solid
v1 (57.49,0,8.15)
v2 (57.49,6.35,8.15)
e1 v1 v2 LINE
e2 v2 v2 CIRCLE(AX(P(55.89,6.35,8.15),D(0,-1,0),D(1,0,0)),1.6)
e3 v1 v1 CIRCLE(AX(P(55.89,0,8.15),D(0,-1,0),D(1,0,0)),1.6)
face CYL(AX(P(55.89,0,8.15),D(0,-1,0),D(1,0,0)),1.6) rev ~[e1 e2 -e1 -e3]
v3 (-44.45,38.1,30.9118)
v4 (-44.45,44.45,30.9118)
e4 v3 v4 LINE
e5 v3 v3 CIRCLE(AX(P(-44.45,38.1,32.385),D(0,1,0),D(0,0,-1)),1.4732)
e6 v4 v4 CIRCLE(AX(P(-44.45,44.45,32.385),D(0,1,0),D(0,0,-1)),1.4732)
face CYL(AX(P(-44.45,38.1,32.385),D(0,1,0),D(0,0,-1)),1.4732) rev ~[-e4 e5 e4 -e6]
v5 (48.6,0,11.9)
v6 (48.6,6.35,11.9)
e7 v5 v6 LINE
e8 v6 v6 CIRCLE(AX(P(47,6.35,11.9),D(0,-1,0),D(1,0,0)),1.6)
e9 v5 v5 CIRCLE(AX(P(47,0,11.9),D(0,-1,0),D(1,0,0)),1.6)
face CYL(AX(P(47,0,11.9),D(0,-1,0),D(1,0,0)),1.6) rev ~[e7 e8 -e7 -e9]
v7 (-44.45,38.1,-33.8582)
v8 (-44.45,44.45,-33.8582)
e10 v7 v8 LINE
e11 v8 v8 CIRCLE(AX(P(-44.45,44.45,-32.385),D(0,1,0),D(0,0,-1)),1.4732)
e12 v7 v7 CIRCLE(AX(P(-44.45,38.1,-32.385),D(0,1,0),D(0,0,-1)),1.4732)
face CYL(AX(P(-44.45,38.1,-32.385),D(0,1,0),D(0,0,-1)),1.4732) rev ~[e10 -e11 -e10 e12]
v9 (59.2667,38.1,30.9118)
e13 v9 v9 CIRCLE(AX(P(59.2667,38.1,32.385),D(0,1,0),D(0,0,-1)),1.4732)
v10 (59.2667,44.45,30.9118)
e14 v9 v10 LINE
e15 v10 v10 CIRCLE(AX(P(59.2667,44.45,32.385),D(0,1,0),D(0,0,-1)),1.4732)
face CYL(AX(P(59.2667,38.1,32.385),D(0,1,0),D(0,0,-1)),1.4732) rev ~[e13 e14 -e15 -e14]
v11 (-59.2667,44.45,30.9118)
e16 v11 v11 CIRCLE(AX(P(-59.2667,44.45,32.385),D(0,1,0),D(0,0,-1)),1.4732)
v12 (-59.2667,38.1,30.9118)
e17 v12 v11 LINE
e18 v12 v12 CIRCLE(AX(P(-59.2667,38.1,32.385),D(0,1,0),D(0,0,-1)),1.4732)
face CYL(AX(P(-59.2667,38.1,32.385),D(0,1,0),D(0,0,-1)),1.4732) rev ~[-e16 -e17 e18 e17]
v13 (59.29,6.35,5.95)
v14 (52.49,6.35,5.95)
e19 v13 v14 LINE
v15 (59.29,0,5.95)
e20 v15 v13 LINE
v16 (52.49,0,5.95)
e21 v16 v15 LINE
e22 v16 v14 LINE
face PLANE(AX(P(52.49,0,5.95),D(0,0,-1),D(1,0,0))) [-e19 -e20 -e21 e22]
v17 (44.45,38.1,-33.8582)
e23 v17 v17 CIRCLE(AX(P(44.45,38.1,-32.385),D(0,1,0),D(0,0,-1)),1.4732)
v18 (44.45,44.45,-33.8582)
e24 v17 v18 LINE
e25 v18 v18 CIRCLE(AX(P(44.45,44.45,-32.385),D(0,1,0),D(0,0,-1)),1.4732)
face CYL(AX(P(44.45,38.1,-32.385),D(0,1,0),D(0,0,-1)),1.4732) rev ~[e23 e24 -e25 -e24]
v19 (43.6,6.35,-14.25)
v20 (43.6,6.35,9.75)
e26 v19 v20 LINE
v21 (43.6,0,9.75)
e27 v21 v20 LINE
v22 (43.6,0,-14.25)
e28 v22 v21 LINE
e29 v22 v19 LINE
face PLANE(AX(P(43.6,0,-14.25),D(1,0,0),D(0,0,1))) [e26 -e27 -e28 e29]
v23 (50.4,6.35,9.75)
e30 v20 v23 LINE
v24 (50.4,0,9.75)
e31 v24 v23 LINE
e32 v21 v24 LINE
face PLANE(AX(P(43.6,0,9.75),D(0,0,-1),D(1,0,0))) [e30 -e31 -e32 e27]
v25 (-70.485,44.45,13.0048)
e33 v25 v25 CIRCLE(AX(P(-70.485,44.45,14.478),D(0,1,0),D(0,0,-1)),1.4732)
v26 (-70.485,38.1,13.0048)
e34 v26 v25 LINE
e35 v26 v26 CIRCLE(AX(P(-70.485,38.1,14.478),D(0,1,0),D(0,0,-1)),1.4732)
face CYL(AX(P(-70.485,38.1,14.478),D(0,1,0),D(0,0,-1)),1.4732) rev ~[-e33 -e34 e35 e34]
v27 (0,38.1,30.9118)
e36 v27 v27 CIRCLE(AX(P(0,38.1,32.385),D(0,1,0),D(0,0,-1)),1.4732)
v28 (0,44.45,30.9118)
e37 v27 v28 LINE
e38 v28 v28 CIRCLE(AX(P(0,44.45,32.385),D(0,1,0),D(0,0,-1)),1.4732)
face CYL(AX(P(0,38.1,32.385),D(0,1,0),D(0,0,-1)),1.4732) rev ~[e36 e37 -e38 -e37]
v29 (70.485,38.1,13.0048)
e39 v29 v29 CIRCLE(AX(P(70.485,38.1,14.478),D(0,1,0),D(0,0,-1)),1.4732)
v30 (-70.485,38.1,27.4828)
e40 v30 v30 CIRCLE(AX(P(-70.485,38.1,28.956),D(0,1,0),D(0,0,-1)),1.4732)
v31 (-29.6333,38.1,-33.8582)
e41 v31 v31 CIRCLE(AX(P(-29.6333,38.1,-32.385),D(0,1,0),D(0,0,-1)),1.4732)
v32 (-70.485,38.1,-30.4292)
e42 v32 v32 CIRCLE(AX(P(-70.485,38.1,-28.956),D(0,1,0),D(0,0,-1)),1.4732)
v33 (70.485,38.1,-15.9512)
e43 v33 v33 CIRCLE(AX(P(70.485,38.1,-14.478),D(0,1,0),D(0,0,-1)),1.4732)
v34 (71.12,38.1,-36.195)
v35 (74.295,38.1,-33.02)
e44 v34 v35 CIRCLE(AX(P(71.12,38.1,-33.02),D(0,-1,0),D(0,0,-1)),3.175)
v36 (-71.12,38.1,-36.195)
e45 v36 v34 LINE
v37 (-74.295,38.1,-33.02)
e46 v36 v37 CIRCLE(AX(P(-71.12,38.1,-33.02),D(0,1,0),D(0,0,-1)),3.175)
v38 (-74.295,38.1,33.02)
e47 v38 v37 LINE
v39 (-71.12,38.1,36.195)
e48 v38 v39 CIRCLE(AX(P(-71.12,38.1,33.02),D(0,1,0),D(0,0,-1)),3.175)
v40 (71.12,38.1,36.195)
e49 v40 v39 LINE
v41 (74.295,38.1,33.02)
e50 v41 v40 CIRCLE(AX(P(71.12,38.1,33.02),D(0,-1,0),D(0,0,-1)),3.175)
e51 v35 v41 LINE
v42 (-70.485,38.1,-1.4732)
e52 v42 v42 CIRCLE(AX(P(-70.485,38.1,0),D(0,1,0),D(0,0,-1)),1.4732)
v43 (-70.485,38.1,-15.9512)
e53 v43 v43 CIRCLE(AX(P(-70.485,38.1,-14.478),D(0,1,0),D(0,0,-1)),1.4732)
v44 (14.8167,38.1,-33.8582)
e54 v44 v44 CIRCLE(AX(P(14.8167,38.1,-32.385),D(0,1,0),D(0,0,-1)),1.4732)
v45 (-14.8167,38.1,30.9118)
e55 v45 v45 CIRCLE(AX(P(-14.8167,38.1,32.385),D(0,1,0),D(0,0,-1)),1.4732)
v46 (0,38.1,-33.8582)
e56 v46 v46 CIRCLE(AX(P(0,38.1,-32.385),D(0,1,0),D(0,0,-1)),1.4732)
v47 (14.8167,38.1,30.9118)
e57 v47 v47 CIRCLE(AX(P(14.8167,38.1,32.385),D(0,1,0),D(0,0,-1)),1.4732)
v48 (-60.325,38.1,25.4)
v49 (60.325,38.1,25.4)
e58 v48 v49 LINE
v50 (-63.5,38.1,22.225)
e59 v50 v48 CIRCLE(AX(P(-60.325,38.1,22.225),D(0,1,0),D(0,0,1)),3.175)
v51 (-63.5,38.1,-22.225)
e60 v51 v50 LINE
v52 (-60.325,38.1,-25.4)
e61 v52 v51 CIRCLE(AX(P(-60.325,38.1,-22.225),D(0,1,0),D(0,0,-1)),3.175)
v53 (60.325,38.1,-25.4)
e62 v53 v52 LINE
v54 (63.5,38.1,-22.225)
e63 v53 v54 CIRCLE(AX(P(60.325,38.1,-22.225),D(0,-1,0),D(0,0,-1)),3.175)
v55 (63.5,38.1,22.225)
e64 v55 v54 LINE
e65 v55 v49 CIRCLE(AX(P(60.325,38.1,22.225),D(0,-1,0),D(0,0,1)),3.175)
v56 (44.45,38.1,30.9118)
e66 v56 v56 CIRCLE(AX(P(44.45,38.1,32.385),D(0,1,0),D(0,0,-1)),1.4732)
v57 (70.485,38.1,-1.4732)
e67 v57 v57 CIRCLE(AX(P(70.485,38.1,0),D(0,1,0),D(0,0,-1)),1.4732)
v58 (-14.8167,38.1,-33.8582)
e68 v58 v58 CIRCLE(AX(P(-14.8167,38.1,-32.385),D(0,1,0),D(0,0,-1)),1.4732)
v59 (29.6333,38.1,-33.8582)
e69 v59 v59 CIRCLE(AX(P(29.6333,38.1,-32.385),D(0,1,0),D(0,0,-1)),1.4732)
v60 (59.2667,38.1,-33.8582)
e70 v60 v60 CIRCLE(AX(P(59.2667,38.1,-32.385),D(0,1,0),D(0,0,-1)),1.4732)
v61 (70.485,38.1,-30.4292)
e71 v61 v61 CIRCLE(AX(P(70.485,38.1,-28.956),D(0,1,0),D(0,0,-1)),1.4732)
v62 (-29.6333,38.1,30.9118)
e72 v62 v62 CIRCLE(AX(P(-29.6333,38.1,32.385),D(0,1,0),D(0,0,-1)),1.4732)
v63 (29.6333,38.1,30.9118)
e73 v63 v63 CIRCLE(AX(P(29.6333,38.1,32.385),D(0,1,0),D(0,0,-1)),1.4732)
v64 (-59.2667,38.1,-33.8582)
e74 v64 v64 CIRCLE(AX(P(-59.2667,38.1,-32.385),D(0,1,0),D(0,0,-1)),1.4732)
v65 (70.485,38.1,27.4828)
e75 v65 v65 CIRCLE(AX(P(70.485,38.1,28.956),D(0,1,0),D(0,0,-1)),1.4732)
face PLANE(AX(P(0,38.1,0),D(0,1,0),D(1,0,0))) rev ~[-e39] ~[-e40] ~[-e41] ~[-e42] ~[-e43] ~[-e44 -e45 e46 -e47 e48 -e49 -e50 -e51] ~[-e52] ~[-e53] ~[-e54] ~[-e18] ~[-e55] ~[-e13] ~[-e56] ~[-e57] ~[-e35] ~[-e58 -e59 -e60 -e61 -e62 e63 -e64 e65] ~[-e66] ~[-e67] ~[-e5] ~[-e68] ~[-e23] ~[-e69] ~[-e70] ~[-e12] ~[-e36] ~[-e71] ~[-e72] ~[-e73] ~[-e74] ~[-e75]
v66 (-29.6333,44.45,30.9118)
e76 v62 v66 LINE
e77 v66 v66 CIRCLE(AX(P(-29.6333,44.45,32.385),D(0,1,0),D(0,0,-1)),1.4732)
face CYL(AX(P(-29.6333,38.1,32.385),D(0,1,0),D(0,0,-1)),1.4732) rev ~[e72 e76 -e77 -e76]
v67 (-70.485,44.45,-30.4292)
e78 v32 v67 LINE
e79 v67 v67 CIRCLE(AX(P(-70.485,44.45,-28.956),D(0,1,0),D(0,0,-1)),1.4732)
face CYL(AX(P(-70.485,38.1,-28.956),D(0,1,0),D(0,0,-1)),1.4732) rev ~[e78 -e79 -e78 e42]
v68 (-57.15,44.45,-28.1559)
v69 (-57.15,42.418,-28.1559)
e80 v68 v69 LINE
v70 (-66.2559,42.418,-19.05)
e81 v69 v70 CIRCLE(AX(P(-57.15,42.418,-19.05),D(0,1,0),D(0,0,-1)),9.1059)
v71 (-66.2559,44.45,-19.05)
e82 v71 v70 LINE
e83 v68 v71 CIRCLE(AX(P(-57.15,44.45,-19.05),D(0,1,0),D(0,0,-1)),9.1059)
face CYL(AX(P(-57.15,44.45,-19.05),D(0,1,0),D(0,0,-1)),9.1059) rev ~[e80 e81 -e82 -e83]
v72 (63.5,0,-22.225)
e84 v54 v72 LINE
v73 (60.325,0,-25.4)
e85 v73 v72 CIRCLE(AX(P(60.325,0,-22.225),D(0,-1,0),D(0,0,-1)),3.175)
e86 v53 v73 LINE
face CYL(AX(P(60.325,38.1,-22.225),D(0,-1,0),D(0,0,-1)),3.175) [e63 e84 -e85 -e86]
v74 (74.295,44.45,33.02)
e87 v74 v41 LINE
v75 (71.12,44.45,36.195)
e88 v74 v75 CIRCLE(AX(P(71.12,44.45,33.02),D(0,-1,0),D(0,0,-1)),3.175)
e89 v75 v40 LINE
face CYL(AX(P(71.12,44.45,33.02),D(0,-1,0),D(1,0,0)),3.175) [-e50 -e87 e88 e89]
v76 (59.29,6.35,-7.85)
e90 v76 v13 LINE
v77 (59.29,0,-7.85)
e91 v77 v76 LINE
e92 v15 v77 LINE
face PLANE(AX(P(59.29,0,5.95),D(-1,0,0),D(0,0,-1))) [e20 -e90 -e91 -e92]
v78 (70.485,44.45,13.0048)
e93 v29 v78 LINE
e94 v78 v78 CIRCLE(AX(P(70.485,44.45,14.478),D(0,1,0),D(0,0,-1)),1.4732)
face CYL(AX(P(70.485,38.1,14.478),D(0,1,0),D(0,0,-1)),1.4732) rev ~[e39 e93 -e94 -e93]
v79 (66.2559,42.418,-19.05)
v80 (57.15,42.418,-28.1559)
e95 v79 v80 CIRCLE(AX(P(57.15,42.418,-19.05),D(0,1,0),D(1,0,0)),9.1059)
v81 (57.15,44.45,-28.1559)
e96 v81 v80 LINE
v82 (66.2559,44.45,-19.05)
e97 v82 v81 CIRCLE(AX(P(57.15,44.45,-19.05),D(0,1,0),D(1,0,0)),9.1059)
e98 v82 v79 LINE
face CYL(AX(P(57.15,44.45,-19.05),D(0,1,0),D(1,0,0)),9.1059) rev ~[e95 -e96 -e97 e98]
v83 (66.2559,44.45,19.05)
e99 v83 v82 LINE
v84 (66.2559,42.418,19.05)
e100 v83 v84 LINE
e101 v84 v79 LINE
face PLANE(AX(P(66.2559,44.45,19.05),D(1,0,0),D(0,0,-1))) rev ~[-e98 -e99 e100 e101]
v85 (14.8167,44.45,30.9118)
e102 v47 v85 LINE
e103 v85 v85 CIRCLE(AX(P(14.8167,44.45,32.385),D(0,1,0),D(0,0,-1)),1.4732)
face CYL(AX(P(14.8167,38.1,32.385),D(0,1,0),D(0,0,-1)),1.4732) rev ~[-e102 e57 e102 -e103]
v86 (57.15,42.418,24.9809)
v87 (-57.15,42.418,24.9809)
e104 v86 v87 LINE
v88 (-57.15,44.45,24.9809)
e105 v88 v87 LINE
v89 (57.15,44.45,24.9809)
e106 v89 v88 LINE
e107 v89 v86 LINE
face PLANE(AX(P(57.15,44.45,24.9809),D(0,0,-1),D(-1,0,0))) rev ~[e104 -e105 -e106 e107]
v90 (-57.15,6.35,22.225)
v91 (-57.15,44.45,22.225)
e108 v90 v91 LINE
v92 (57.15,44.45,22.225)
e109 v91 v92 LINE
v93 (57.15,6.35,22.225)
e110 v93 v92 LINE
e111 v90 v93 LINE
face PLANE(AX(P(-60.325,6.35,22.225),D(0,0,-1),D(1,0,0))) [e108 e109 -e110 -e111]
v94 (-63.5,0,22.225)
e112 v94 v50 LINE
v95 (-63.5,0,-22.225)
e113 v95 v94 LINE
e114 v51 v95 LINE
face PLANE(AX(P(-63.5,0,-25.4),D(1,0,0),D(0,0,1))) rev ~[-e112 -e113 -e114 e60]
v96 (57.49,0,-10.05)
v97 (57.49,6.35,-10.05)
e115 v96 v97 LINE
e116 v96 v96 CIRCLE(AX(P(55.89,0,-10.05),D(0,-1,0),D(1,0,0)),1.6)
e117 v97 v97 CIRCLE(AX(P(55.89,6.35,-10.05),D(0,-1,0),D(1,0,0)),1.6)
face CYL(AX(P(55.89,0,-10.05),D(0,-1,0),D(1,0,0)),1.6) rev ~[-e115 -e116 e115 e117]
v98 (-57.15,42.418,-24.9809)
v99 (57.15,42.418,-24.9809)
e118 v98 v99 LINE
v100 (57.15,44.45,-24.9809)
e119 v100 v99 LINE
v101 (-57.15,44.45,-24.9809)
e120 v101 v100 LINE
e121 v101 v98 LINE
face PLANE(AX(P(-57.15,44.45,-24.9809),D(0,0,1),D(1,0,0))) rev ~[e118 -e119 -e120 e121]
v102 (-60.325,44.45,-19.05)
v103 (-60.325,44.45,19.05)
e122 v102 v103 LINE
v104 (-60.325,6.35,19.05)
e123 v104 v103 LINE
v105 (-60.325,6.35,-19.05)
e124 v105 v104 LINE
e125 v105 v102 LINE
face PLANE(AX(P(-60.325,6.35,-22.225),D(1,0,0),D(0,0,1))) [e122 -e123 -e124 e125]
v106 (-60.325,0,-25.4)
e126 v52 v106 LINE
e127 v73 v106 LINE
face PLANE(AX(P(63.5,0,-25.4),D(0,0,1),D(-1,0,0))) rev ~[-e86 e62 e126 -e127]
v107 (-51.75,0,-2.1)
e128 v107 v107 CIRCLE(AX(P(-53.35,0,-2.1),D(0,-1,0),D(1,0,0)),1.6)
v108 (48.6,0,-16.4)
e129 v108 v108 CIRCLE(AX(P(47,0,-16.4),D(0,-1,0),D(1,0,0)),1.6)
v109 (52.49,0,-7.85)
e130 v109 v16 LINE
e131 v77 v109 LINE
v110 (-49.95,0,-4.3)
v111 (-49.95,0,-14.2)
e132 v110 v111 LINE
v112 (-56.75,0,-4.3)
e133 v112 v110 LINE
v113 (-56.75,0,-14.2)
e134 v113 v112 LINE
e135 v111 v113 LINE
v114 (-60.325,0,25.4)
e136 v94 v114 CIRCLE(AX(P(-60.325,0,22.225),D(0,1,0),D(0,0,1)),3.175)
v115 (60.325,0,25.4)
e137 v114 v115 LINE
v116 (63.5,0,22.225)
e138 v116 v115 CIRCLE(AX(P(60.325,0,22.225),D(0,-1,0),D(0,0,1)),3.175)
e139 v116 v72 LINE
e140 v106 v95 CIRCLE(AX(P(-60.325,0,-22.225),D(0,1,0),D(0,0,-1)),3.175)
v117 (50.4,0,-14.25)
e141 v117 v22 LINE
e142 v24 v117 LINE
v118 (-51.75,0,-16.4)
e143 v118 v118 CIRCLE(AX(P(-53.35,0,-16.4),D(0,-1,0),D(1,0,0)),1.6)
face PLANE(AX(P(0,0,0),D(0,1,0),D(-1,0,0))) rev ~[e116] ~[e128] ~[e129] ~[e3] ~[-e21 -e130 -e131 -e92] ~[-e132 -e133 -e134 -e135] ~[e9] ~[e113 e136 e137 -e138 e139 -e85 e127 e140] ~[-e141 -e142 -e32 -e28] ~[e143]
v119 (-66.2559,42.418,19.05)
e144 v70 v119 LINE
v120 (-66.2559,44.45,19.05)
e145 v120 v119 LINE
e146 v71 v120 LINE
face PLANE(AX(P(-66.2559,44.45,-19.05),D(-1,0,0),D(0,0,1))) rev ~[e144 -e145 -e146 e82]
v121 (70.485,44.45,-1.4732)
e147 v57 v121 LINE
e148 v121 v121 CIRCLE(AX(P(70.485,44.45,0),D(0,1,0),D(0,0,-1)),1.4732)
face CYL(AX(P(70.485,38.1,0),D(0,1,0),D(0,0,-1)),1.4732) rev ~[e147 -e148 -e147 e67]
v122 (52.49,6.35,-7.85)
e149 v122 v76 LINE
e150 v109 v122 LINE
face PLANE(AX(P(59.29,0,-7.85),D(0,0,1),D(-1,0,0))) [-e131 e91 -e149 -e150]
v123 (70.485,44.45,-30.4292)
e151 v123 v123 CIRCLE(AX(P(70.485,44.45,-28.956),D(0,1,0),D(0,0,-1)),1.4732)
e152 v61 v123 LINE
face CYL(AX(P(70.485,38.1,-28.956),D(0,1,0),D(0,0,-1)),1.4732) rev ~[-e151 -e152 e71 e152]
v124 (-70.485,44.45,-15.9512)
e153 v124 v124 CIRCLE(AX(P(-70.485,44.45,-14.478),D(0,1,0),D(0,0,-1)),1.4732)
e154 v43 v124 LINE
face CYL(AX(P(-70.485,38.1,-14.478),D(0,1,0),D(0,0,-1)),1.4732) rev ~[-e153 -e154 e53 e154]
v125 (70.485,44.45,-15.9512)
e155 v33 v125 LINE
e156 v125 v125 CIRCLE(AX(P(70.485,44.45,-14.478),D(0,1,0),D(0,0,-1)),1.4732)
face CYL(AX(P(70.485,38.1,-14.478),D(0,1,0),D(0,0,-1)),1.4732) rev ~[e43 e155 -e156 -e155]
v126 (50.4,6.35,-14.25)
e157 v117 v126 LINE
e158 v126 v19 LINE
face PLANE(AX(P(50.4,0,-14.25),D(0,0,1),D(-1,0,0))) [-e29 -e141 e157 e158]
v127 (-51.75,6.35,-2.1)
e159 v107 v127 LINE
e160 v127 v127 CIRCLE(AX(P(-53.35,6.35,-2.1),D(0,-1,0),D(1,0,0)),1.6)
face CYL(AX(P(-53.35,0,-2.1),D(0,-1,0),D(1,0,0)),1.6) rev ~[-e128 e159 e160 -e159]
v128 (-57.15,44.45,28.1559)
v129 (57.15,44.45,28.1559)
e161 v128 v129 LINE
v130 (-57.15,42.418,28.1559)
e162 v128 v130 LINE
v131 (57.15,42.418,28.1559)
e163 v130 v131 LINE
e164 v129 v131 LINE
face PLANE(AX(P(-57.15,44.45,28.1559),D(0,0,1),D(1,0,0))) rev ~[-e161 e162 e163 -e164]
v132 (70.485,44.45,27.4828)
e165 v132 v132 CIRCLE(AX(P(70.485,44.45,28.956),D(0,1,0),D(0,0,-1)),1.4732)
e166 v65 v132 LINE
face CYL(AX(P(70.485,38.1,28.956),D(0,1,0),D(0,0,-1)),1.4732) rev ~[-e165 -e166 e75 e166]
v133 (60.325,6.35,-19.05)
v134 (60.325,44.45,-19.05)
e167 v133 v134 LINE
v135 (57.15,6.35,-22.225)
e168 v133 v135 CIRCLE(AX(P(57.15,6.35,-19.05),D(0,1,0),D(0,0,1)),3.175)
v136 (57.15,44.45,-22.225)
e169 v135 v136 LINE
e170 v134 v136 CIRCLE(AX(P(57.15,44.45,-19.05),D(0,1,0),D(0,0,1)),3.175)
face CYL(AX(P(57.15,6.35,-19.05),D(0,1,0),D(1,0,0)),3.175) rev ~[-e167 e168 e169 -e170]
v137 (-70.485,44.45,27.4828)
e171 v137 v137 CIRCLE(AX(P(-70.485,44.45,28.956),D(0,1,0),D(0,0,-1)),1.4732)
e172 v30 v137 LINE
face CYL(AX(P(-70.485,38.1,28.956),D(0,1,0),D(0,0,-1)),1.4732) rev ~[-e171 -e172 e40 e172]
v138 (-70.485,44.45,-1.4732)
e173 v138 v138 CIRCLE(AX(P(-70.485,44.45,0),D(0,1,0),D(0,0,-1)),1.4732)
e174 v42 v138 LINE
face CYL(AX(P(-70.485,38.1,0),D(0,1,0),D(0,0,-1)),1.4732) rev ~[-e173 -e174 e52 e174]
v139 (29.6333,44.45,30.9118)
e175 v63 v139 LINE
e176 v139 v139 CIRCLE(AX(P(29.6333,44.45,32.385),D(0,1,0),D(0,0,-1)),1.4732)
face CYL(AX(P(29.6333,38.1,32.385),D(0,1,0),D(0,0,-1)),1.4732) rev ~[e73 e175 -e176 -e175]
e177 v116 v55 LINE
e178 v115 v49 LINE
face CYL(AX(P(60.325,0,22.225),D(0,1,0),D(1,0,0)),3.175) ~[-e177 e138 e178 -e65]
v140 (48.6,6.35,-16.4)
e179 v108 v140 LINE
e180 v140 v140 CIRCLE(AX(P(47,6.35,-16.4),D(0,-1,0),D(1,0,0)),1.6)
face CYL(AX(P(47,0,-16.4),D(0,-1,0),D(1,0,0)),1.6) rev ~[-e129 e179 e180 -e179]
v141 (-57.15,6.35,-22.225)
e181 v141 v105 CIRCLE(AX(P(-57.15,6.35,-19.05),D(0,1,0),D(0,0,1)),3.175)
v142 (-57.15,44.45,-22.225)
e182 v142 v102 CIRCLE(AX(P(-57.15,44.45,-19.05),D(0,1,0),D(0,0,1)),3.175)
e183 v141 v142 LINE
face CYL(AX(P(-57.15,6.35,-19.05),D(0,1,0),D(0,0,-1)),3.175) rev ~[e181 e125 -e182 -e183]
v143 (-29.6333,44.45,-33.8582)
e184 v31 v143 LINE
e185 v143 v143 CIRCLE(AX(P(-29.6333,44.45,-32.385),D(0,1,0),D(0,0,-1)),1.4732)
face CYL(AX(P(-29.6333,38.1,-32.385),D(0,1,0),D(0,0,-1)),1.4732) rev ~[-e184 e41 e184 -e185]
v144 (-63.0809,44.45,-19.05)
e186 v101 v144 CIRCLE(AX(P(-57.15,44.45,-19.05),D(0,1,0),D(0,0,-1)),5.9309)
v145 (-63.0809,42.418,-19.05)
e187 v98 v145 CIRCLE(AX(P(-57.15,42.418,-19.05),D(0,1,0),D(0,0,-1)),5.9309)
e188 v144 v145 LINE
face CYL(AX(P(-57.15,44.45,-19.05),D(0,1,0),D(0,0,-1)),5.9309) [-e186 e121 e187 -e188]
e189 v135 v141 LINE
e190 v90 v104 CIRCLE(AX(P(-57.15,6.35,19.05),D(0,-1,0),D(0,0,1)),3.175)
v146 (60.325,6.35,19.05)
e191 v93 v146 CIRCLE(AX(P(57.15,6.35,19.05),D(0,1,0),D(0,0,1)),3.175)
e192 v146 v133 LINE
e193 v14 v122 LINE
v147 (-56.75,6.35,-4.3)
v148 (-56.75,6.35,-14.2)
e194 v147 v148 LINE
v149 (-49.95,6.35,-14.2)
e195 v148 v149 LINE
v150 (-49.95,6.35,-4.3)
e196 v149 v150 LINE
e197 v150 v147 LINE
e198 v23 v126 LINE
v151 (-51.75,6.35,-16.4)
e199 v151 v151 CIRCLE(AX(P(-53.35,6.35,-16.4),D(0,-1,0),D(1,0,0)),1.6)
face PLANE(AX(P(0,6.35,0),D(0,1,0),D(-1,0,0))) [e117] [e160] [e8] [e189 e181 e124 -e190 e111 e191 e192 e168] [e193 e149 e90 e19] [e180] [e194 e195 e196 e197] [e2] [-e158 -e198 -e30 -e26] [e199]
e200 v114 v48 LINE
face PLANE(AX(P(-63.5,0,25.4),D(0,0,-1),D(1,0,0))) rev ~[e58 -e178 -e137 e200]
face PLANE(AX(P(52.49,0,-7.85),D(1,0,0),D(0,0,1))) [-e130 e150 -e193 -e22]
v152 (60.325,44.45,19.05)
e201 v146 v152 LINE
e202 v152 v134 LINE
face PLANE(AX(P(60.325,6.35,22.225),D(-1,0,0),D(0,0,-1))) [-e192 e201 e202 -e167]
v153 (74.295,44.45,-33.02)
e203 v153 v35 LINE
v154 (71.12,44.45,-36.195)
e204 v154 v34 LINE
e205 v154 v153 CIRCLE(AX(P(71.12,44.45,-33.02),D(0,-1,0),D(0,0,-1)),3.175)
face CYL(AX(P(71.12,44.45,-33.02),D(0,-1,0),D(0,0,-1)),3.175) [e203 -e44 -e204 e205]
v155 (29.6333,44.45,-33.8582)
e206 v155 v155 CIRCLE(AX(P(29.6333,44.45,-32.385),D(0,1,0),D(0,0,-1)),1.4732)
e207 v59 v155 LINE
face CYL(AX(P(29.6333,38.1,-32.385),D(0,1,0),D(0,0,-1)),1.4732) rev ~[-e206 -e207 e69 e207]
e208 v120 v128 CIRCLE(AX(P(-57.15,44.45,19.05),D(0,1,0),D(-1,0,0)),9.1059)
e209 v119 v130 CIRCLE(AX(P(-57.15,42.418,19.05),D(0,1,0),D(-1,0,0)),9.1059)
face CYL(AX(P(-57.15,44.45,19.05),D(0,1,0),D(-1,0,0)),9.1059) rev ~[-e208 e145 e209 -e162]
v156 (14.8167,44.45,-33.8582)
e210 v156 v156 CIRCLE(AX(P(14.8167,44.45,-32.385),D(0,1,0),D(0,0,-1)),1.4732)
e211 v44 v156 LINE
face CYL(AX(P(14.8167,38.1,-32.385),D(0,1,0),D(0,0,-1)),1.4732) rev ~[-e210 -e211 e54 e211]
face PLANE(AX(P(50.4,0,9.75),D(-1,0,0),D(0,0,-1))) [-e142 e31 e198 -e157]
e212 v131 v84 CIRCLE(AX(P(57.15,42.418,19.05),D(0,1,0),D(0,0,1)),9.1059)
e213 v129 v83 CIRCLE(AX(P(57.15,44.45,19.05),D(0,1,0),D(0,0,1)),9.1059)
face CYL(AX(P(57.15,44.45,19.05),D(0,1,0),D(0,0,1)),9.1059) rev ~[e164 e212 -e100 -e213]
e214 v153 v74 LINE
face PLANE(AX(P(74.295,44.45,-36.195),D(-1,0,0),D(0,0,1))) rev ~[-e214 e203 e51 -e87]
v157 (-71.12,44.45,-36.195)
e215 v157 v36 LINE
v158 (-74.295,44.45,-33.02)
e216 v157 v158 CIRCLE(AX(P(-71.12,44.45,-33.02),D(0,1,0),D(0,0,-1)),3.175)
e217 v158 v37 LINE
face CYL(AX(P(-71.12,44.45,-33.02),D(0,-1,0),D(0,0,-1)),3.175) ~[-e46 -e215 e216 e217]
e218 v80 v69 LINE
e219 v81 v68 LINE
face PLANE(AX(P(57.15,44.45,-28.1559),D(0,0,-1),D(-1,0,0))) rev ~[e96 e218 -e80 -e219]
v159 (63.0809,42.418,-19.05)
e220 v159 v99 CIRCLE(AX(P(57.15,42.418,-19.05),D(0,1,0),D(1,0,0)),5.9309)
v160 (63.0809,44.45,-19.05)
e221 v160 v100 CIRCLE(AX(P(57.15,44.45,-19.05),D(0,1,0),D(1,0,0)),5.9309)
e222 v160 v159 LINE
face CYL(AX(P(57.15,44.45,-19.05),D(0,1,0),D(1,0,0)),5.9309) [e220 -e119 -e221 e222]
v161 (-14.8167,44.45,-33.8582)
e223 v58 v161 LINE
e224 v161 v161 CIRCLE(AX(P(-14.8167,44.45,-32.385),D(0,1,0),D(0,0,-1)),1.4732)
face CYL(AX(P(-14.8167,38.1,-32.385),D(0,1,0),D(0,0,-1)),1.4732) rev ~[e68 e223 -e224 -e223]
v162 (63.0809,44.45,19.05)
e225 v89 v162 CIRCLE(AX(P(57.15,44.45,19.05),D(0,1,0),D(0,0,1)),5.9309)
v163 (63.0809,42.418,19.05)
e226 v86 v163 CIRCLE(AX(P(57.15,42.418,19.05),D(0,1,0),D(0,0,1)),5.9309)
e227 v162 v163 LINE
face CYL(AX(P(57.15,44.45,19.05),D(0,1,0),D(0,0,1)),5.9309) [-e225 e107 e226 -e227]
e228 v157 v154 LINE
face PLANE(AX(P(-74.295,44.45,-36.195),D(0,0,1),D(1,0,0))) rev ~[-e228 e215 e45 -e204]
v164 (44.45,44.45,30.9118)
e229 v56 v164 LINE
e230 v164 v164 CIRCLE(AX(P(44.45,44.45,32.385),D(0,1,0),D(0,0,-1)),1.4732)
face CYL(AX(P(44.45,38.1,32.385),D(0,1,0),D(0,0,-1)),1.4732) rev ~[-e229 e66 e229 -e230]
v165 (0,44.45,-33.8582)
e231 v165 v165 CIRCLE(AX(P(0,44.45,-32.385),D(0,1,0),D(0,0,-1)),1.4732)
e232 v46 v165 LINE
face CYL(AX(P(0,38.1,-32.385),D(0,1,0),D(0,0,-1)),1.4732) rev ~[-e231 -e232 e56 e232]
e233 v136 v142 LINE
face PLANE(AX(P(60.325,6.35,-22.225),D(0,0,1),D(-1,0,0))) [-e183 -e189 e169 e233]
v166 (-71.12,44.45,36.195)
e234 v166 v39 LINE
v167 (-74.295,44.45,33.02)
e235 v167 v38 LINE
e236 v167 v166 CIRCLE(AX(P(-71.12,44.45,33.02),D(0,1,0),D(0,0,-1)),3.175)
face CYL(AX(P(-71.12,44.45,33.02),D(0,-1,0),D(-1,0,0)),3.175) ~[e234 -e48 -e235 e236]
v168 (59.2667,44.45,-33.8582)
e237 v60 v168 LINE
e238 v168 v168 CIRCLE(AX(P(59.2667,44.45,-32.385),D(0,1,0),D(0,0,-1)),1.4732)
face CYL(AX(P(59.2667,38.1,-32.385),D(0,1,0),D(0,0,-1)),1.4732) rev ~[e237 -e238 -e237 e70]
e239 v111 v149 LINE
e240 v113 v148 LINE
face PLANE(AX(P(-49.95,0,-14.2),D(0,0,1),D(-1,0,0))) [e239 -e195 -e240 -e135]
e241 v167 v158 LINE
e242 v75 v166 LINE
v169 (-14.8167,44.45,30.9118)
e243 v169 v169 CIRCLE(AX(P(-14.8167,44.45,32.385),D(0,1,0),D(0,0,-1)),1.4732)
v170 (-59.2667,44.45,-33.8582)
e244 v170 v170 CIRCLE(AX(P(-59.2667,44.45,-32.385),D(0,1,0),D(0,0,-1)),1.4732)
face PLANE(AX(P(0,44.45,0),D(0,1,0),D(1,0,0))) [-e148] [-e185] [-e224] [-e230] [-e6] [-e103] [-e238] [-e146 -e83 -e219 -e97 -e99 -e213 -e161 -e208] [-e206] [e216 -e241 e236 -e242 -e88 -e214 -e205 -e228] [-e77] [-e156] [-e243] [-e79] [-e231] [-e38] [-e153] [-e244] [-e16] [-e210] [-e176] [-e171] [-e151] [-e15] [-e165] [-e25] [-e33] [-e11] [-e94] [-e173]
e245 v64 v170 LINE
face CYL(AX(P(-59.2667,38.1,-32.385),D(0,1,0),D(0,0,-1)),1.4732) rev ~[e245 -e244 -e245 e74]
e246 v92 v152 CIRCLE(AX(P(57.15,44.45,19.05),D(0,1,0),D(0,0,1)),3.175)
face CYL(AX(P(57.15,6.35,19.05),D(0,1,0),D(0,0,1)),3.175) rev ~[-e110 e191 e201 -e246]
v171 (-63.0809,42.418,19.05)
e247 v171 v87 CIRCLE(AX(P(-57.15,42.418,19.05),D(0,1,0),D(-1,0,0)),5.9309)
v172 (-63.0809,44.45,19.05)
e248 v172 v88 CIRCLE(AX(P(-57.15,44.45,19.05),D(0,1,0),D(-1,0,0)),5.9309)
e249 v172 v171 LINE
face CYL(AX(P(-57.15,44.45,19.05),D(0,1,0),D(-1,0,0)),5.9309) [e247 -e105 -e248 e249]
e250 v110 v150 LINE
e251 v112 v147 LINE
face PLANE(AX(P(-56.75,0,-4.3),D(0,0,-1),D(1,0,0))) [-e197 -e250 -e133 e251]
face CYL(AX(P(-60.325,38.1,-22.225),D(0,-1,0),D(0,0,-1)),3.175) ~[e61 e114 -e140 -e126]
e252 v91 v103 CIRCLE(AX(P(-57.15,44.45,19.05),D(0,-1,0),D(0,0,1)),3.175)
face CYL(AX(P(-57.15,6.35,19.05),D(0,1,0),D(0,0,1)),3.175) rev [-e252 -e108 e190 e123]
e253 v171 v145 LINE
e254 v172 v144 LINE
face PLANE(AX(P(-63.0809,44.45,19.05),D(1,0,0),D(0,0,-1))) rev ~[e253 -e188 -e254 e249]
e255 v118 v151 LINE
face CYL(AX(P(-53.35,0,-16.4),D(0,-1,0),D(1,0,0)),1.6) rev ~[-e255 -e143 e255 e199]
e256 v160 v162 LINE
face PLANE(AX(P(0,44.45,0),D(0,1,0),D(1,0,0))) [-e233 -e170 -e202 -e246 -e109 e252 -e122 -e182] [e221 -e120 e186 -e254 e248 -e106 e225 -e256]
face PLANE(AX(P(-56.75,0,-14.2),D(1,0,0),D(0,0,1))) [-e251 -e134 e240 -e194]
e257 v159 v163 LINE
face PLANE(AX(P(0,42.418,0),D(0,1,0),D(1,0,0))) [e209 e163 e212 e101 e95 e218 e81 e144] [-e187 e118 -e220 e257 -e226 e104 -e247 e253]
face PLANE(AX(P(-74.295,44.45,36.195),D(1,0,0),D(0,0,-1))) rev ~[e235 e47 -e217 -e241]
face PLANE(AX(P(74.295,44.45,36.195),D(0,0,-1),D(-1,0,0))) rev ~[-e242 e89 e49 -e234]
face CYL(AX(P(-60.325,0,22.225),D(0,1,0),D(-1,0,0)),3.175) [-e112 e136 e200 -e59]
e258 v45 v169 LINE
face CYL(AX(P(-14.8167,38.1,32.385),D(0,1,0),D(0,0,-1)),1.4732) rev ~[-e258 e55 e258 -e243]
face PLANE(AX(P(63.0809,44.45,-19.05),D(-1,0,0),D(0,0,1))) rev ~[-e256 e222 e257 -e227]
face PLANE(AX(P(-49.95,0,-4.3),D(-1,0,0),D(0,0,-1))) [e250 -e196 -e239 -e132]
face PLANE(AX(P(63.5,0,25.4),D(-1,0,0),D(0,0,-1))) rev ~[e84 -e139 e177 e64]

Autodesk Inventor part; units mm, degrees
ref_plane "YZ Plane" through (0, 0, 0) normal (1, 0, 0) x (0, 1, 0)
ref_plane "XZ Plane" through (0, 0, 0) normal (0, 1, 0) x (-1, 0, 0)
ref_plane "XY Plane" through (0, 0, 0) normal (0, 0, 1) x (1, 0, 0)
sketch "Sketch1" plane through (0, 0, 0) normal (0, 1, 0) x (-1, 0, 0)
  line L0 (63.5, 25.4) -> (-63.5, 25.4)
  line L1 (-63.5, 25.4) -> (-63.5, -25.4)
  line L2 (-63.5, -25.4) -> (63.5, -25.4)
  line L3 (63.5, -25.4) -> (63.5, 25.4)
  point P0 (0, 0)
  dimension "d0" = 50.8
  dimension "d1" = 25.4
  dimension "d2" = 63.5
  dimension "d3" = 127
extrude "Extrusion1" add sketch "Sketch1" along normal blind 6.35
sketch "Sketch2" plane through (0, 6.35, 0) normal (0, 1, 0) x (1, 0, 0)
  line L0 (-60.325, -22.225) -> (60.325, -22.225)
  line L1 (60.325, -22.225) -> (60.325, 22.225)
  line L2 (60.325, 22.225) -> (-60.325, 22.225)
  line L3 (-60.325, 22.225) -> (-60.325, -22.225)
  line L4 (-63.5, -25.4) -> (63.5, -25.4) projected
  line L5 (63.5, -25.4) -> (63.5, 25.4) projected
  line L6 (63.5, 25.4) -> (-63.5, 25.4) projected
  line L7 (-63.5, 25.4) -> (-63.5, -25.4) projected
  point P0 (0, 0)
  dimension "d6" = 3.175
  dimension "d7" = 3.175
  dimension "d8" = 3.175
  dimension "d9" = 3.175
extrude "Extrusion2" add sketch "Sketch2" along normal blind 38.1
fillet "Fillet1" radius 3.175 4 edges at (-60.325, 25.4, -22.225) (60.325, 25.4, -22.225) (60.325, 25.4, 22.225) (-60.325, 25.4, 22.225)
sketch "Sketch4" plane through (63.5, 0, -25.4) normal (0, 0, -1) x (-1, 0, 0)
  line L0 (127, 0) -> (127, 44.45) projected
  line L1 (127, 44.45) -> (104.775, 44.45)
  line L2 (104.775, 44.45) -> (104.775, 38.1)
  line L3 (104.775, 38.1) -> (127, 38.1)
  line L4 (127, 38.1) -> (127, 44.45)
  line L5 (74.6125, 44.45) -> (52.3875, 44.45)
  line L6 (52.3875, 44.45) -> (52.3875, 38.1)
  line L7 (52.3875, 38.1) -> (74.6125, 38.1)
  line L8 (74.6125, 38.1) -> (74.6125, 44.45)
  line L9 (22.225, 44.45) -> (0, 44.45)
  line L10 (0, 44.45) -> (0, 38.1)
  line L11 (0, 38.1) -> (22.225, 38.1)
  line L12 (22.225, 38.1) -> (22.225, 44.45)
  point P0 (63.5, 0)
  dimension "d28" = 22.225
  dimension "d29" = 6.35
  dimension "d32" = 52.3875
extrude "Extrusion4" [suppressed]
sketch "Sketch5" plane through (-63.5, 0, -25.4) normal (-1, 0, 0) x (0, 0, 1)
  line L0 (-15.24, 38.1) -> (0, 22.86)
  line L1 (0, 0) -> (0, 44.45) projected
  line L2 (0, 44.45) -> (0, 38.1) projected
  line L3 (0, 22.86) -> (0, 38.1)
  line L4 (0, 38.1) -> (-15.24, 38.1)
  point P0 (25.4, 0)
  dimension "d39" = 15.24
extrude "Extrusion5" [suppressed]
pattern_linear "Rectangular Pattern1" [suppressed]
pattern_linear "Rectangular Pattern2" [suppressed]
sketch "Sketch6" plane through (-60.325, 38.1, -40.64) normal (0, -1, 0) x (1, 0, 0)
  line L0 (123.825, 15.24) -> (-3.175, 15.24) projected
  line L1 (15.875, 0) -> (0, 0) projected
  line L2 (15.875, 0) -> (15.875, 15.24) projected
  line L3 (0, 15.24) -> (0, 0) projected
  point P0 (60.325, 40.64)
  point P1 (7.9375, 7.62)
  point P2 (60.3377, 7.62)
  point P3 (112.7379, 7.62)
  dimension "d48" = 7.62
  dimension "d49" = 15.24
  dimension "d50" = 15.875
  dimension "d51" = 7.9375
  dimension "d54" = 52.4002
hole "Hole1" [suppressed]
fillet "Fillet2" [suppressed]
fillet "Fillet3" [suppressed]
mirror "Mirror1" [suppressed]
fillet "Fillet4" [suppressed]
sketch "Sketch13" plane through (0, 44.45, 0) normal (0, 1, 0) x (1, 0, 0)
  line L0 (-74.295, 36.195) -> (74.295, 36.195)
  line L1 (74.295, 36.195) -> (74.295, -36.195)
  line L2 (74.295, -36.195) -> (-74.295, -36.195)
  line L3 (-74.295, -36.195) -> (-74.295, 36.195)
  line L4 (63.5, 25.4) -> (-63.5, 25.4) projected
  line L5 (-63.5, 25.4) -> (-63.5, -25.4) projected
  line L6 (-63.5, -25.4) -> (63.5, -25.4) projected
  line L7 (63.5, -25.4) -> (63.5, 25.4) projected
  point P0 (0, 0)
  dimension "d81" = 10.795
  dimension "d82" = 10.795
  dimension "d83" = 10.795
  dimension "d84" = 10.795
extrude "Extrusion12" add sketch "Sketch13" against normal blind 6.35
fillet "Fillet6" radius 3.175 4 edges at (-74.295, 41.275, -36.195) (74.295, 41.275, -36.195) (74.295, 41.275, 36.195) (-74.295, 41.275, 36.195)
sketch "Sketch14" plane through (0, 38.1, 0) normal (0, -1, 0) x (1, 0, 0)
  line L0 (74.295, 36.195) -> (-74.295, 36.195) projected
  line L1 (66.675, 28.575) -> (-66.675, 28.575) projected
  line L2 (74.295, -36.195) -> (74.295, 36.195) projected
  line L3 (74.295, -36.195) -> (74.295, 36.195) projected
  line L4 (74.295, 0) -> (-74.2494, 0) construction
  line L5 (71.12, -36.195) -> (-71.12, -36.195)
  line L6 (66.675, -28.575) -> (66.675, 28.575) projected
  line L7 (-74.295, -36.195) -> (74.295, -36.195) projected
  line L8 (0, -36.195) -> (0, 36.195) construction
  point P0 (0, 0)
  point P1 (59.2667, 32.385)
  point P2 (71.12, 36.195)
  point P3 (-71.12, 36.195)
  point P4 (74.295, -33.02)
  point P5 (74.295, 33.02)
  point P6 (44.45, 32.385)
  point P7 (29.6333, 32.385)
  point P8 (14.8167, 32.385)
  point P9 (0, 32.385)
  point P10 (-14.8167, 32.385)
  point P11 (-29.6333, 32.385)
  point P12 (-44.45, 32.385)
  point P13 (-59.2667, 32.385)
  point P14 (59.2667, -32.385)
  point P15 (44.45, -32.385)
  point P16 (29.6333, -32.385)
  point P17 (14.8167, -32.385)
  point P18 (0, -32.385)
  point P19 (-14.8167, -32.385)
  point P20 (-29.6333, -32.385)
  point P21 (-44.45, -32.385)
  point P22 (-59.2667, -32.385)
  point P23 (70.485, -28.956)
  point P24 (70.485, -14.478)
  point P25 (70.485, 0)
  point P26 (70.485, 14.478)
  point P27 (70.485, 28.956)
  point P28 (-70.485, -28.956)
  point P29 (-70.485, -14.478)
  point P30 (-70.485, 0)
  point P31 (-70.485, 14.478)
  point P32 (-70.485, 28.956)
  dimension "d88" = 3.81
  dimension "d89" = 7.62
  dimension "d94" = 14.8167
  dimension "d99" = 118.5333
  dimension "d100" = 59.2667
  dimension "d101" = 7.62
  dimension "d102" = 3.81
  dimension "d103" = 7.239
  dimension "d106" = 14.478
  dimension "d128" = 57.912
  dimension "d129" = 28.956
hole "Hole2" at (59.2667, 38.1, 32.385) at (44.45, 38.1, 32.385) at (29.6333, 38.1, 32.385) at (14.8167, 38.1, 32.385) at (0, 38.1, 32.385) at (-14.8167, 38.1, 32.385) at (-29.6333, 38.1, 32.385) at (-44.45, 38.1, 32.385) at (-59.2667, 38.1, 32.385) at (-59.2667, 38.1, -32.385) at (-44.45, 38.1, -32.385) at (-29.6333, 38.1, -32.385) at (-14.8167, 38.1, -32.385) at (0, 38.1, -32.385) at (14.8167, 38.1, -32.385) at (29.6333, 38.1, -32.385) at (44.45, 38.1, -32.385) at (59.2667, 38.1, -32.385) at (70.485, 38.1, -28.956) at (70.485, 38.1, -14.478) at (70.485, 38.1, 0) at (70.485, 38.1, 14.478) at (70.485, 38.1, 28.956) at (-70.485, 38.1, 28.956) at (-70.485, 38.1, 14.478) at (-70.485, 38.1, 0) at (-70.485, 38.1, -14.478) at (-70.485, 38.1, -28.956) direction (0, 1, 0) diameter 2.9464 depth 25.4 tip angle 118
sketch "Sketch17" plane through (0, 0, 0) normal (0, -1, 0) x (1, 0, 0)
  line L0 (50.4, -14.25) -> (43.6, -14.25) projected
  line L1 (43.6, -14.25) -> (43.6, 9.75) projected
  line L2 (43.6, 9.75) -> (50.4, 9.75) projected
  line L3 (50.4, 9.75) -> (50.4, -14.25) projected
  point P0 (0, 0)
extrude "Extrusion14" cut sketch "Sketch17" against normal blind 6.35
sketch "Sketch18" plane through (0, 0, 0) normal (0, -1, 0) x (1, 0, 0)
  line L0 (59.29, -7.85) -> (52.49, -7.85) projected
  line L1 (52.49, -7.85) -> (52.49, 5.95) projected
  line L2 (52.49, 5.95) -> (59.29, 5.95) projected
  line L3 (59.29, 5.95) -> (59.29, -7.85) projected
  line L4 (-56.75, -4.3) -> (-49.95, -4.3) projected
  line L5 (-49.95, -4.3) -> (-49.95, -14.2) projected
  line L6 (-49.95, -14.2) -> (-56.75, -14.2) projected
  line L7 (-56.75, -14.2) -> (-56.75, -4.3) projected
  point P0 (0, 0)
extrude "Extrusion15" cut sketch "Sketch18" against normal through all
sketch "Sketch19" plane through (0, 0, 0) normal (0, -1, 0) x (1, 0, 0)
  circle A0 centre (55.89, 8.15) radius 1.6 projected
  circle A1 centre (55.89, -10.05) radius 1.6 projected
  circle A2 centre (-53.35, -2.1) radius 1.6 projected
  circle A3 centre (-53.35, -16.4) radius 1.6 projected
  circle A4 centre (47, -16.4) radius 1.6 projected
  circle A5 centre (47, 11.9) radius 1.6 projected
  point P0 (0, 0)
extrude "Extrusion16" cut sketch "Sketch19" against normal through all
sketch "Sketch20" plane through (0, 44.45, 0) normal (0, 1, 0) x (1, 0, 0)
  circle A0 centre (47, 16.4) radius 1.6 projected
  circle A1 centre (-53.35, 2.1) radius 1.6 projected
  circle A2 centre (55.89, -8.15) radius 1.6 projected
  circle A3 centre (55.89, 10.05) radius 1.6 projected
  circle A4 centre (-53.35, 16.4) radius 1.6 projected
  circle A5 centre (47, -11.9) radius 1.6 projected
  line L0 (-56.75, 4.3) -> (-56.75, 14.2) projected
  line L1 (-56.75, 14.2) -> (-49.95, 14.2) projected
  line L2 (-49.95, 14.2) -> (-49.95, 4.3) projected
  line L3 (-49.95, 4.3) -> (-56.75, 4.3) projected
  line L4 (59.29, 7.85) -> (59.29, -5.95) projected
  line L5 (59.29, -5.95) -> (52.49, -5.95) projected
  line L6 (52.49, -5.95) -> (52.49, 7.85) projected
  line L7 (52.49, 7.85) -> (59.29, 7.85) projected
  line L8 (50.4, 14.25) -> (50.4, -9.75) projected
  line L9 (50.4, -9.75) -> (43.6, -9.75) projected
  line L10 (43.6, -9.75) -> (43.6, 14.25) projected
  line L11 (43.6, 14.25) -> (50.4, 14.25) projected
  arc A6 (-60.325, -19.05) -> (-57.15, -22.225) centre (-57.15, -19.05) ccw projected
  line L12 (-57.15, -22.225) -> (57.15, -22.225) projected
  arc A7 (57.15, -22.225) -> (60.325, -19.05) centre (57.15, -19.05) ccw projected
  line L13 (60.325, -19.05) -> (60.325, 19.05) projected
  arc A8 (60.325, 19.05) -> (57.15, 22.225) centre (57.15, 19.05) ccw projected
  line L14 (57.15, 22.225) -> (-57.15, 22.225) projected
  arc A9 (-57.15, 22.225) -> (-60.325, 19.05) centre (-57.15, 19.05) ccw projected
  line L15 (-60.325, 19.05) -> (-60.325, -19.05) projected
  line L16 (-57.15, 24.9809) -> (57.15, 24.9809)
  arc A10 (63.0809, 19.05) -> (57.15, 24.9809) centre (57.15, 19.05) ccw
  line L17 (63.0809, 19.05) -> (63.0809, -19.05)
  arc A11 (57.15, -24.9809) -> (63.0809, -19.05) centre (57.15, -19.05) ccw
  line L18 (57.15, -24.9809) -> (-57.15, -24.9809)
  arc A12 (-63.0809, -19.05) -> (-57.15, -24.9809) centre (-57.15, -19.05) ccw
  line L19 (-63.0809, -19.05) -> (-63.0809, 19.05)
  arc A13 (-57.15, 24.9809) -> (-63.0809, 19.05) centre (-57.15, 19.05) ccw
  line L20 (57.15, 28.1559) -> (-57.15, 28.1559)
  arc A14 (-57.15, 28.1559) -> (-66.2559, 19.05) centre (-57.15, 19.05) ccw
  line L21 (-66.2559, 19.05) -> (-66.2559, -19.05)
  arc A15 (-66.2559, -19.05) -> (-57.15, -28.1559) centre (-57.15, -19.05) ccw
  line L22 (-57.15, -28.1559) -> (57.15, -28.1559)
  arc A16 (57.15, -28.1559) -> (66.2559, -19.05) centre (57.15, -19.05) ccw
  line L23 (66.2559, -19.05) -> (66.2559, 19.05)
  arc A17 (66.2559, 19.05) -> (57.15, 28.1559) centre (57.15, 19.05) ccw
  point P0 (0, 0)
  dimension "d130" = 2.7559
  dimension "d131" = 3.175
extrude "Extrusion18" cut sketch "Sketch20" against normal blind 2.032 contours A17 L23 A16 L22 A15 L21 A14 L20
fillet "Fillet7" radius 3.175 4 edges at (-63.5, 19.05, -25.4) (63.5, 19.05, -25.4) (63.5, 19.05, 25.4) (-63.5, 19.05, 25.4)
equation "\"d1\" = 0.5 * d0"
equation "\"d2\" = 0.5 * d3"
equation "\"d7\" = d6"
equation "\"d8\" = d6"
equation "\"d9\" = d6"
equation "\"d48\" = 0.5 * d49"
equation "\"d51\" = 0.5 * d50"
equation "\"d81\" = d83"
equation "\"d82\" = d83"
equation "\"d84\" = d83"
equation "\"d88\" = 0.5 * d89"
equation "\"d100\" = 0.5 * d99"
equation "\"d102\" = 0.5 * d101"
equation "\"d129\" = 0.5 * d128"
properties part number "Electronics Box" material "Aluminum 6061"
